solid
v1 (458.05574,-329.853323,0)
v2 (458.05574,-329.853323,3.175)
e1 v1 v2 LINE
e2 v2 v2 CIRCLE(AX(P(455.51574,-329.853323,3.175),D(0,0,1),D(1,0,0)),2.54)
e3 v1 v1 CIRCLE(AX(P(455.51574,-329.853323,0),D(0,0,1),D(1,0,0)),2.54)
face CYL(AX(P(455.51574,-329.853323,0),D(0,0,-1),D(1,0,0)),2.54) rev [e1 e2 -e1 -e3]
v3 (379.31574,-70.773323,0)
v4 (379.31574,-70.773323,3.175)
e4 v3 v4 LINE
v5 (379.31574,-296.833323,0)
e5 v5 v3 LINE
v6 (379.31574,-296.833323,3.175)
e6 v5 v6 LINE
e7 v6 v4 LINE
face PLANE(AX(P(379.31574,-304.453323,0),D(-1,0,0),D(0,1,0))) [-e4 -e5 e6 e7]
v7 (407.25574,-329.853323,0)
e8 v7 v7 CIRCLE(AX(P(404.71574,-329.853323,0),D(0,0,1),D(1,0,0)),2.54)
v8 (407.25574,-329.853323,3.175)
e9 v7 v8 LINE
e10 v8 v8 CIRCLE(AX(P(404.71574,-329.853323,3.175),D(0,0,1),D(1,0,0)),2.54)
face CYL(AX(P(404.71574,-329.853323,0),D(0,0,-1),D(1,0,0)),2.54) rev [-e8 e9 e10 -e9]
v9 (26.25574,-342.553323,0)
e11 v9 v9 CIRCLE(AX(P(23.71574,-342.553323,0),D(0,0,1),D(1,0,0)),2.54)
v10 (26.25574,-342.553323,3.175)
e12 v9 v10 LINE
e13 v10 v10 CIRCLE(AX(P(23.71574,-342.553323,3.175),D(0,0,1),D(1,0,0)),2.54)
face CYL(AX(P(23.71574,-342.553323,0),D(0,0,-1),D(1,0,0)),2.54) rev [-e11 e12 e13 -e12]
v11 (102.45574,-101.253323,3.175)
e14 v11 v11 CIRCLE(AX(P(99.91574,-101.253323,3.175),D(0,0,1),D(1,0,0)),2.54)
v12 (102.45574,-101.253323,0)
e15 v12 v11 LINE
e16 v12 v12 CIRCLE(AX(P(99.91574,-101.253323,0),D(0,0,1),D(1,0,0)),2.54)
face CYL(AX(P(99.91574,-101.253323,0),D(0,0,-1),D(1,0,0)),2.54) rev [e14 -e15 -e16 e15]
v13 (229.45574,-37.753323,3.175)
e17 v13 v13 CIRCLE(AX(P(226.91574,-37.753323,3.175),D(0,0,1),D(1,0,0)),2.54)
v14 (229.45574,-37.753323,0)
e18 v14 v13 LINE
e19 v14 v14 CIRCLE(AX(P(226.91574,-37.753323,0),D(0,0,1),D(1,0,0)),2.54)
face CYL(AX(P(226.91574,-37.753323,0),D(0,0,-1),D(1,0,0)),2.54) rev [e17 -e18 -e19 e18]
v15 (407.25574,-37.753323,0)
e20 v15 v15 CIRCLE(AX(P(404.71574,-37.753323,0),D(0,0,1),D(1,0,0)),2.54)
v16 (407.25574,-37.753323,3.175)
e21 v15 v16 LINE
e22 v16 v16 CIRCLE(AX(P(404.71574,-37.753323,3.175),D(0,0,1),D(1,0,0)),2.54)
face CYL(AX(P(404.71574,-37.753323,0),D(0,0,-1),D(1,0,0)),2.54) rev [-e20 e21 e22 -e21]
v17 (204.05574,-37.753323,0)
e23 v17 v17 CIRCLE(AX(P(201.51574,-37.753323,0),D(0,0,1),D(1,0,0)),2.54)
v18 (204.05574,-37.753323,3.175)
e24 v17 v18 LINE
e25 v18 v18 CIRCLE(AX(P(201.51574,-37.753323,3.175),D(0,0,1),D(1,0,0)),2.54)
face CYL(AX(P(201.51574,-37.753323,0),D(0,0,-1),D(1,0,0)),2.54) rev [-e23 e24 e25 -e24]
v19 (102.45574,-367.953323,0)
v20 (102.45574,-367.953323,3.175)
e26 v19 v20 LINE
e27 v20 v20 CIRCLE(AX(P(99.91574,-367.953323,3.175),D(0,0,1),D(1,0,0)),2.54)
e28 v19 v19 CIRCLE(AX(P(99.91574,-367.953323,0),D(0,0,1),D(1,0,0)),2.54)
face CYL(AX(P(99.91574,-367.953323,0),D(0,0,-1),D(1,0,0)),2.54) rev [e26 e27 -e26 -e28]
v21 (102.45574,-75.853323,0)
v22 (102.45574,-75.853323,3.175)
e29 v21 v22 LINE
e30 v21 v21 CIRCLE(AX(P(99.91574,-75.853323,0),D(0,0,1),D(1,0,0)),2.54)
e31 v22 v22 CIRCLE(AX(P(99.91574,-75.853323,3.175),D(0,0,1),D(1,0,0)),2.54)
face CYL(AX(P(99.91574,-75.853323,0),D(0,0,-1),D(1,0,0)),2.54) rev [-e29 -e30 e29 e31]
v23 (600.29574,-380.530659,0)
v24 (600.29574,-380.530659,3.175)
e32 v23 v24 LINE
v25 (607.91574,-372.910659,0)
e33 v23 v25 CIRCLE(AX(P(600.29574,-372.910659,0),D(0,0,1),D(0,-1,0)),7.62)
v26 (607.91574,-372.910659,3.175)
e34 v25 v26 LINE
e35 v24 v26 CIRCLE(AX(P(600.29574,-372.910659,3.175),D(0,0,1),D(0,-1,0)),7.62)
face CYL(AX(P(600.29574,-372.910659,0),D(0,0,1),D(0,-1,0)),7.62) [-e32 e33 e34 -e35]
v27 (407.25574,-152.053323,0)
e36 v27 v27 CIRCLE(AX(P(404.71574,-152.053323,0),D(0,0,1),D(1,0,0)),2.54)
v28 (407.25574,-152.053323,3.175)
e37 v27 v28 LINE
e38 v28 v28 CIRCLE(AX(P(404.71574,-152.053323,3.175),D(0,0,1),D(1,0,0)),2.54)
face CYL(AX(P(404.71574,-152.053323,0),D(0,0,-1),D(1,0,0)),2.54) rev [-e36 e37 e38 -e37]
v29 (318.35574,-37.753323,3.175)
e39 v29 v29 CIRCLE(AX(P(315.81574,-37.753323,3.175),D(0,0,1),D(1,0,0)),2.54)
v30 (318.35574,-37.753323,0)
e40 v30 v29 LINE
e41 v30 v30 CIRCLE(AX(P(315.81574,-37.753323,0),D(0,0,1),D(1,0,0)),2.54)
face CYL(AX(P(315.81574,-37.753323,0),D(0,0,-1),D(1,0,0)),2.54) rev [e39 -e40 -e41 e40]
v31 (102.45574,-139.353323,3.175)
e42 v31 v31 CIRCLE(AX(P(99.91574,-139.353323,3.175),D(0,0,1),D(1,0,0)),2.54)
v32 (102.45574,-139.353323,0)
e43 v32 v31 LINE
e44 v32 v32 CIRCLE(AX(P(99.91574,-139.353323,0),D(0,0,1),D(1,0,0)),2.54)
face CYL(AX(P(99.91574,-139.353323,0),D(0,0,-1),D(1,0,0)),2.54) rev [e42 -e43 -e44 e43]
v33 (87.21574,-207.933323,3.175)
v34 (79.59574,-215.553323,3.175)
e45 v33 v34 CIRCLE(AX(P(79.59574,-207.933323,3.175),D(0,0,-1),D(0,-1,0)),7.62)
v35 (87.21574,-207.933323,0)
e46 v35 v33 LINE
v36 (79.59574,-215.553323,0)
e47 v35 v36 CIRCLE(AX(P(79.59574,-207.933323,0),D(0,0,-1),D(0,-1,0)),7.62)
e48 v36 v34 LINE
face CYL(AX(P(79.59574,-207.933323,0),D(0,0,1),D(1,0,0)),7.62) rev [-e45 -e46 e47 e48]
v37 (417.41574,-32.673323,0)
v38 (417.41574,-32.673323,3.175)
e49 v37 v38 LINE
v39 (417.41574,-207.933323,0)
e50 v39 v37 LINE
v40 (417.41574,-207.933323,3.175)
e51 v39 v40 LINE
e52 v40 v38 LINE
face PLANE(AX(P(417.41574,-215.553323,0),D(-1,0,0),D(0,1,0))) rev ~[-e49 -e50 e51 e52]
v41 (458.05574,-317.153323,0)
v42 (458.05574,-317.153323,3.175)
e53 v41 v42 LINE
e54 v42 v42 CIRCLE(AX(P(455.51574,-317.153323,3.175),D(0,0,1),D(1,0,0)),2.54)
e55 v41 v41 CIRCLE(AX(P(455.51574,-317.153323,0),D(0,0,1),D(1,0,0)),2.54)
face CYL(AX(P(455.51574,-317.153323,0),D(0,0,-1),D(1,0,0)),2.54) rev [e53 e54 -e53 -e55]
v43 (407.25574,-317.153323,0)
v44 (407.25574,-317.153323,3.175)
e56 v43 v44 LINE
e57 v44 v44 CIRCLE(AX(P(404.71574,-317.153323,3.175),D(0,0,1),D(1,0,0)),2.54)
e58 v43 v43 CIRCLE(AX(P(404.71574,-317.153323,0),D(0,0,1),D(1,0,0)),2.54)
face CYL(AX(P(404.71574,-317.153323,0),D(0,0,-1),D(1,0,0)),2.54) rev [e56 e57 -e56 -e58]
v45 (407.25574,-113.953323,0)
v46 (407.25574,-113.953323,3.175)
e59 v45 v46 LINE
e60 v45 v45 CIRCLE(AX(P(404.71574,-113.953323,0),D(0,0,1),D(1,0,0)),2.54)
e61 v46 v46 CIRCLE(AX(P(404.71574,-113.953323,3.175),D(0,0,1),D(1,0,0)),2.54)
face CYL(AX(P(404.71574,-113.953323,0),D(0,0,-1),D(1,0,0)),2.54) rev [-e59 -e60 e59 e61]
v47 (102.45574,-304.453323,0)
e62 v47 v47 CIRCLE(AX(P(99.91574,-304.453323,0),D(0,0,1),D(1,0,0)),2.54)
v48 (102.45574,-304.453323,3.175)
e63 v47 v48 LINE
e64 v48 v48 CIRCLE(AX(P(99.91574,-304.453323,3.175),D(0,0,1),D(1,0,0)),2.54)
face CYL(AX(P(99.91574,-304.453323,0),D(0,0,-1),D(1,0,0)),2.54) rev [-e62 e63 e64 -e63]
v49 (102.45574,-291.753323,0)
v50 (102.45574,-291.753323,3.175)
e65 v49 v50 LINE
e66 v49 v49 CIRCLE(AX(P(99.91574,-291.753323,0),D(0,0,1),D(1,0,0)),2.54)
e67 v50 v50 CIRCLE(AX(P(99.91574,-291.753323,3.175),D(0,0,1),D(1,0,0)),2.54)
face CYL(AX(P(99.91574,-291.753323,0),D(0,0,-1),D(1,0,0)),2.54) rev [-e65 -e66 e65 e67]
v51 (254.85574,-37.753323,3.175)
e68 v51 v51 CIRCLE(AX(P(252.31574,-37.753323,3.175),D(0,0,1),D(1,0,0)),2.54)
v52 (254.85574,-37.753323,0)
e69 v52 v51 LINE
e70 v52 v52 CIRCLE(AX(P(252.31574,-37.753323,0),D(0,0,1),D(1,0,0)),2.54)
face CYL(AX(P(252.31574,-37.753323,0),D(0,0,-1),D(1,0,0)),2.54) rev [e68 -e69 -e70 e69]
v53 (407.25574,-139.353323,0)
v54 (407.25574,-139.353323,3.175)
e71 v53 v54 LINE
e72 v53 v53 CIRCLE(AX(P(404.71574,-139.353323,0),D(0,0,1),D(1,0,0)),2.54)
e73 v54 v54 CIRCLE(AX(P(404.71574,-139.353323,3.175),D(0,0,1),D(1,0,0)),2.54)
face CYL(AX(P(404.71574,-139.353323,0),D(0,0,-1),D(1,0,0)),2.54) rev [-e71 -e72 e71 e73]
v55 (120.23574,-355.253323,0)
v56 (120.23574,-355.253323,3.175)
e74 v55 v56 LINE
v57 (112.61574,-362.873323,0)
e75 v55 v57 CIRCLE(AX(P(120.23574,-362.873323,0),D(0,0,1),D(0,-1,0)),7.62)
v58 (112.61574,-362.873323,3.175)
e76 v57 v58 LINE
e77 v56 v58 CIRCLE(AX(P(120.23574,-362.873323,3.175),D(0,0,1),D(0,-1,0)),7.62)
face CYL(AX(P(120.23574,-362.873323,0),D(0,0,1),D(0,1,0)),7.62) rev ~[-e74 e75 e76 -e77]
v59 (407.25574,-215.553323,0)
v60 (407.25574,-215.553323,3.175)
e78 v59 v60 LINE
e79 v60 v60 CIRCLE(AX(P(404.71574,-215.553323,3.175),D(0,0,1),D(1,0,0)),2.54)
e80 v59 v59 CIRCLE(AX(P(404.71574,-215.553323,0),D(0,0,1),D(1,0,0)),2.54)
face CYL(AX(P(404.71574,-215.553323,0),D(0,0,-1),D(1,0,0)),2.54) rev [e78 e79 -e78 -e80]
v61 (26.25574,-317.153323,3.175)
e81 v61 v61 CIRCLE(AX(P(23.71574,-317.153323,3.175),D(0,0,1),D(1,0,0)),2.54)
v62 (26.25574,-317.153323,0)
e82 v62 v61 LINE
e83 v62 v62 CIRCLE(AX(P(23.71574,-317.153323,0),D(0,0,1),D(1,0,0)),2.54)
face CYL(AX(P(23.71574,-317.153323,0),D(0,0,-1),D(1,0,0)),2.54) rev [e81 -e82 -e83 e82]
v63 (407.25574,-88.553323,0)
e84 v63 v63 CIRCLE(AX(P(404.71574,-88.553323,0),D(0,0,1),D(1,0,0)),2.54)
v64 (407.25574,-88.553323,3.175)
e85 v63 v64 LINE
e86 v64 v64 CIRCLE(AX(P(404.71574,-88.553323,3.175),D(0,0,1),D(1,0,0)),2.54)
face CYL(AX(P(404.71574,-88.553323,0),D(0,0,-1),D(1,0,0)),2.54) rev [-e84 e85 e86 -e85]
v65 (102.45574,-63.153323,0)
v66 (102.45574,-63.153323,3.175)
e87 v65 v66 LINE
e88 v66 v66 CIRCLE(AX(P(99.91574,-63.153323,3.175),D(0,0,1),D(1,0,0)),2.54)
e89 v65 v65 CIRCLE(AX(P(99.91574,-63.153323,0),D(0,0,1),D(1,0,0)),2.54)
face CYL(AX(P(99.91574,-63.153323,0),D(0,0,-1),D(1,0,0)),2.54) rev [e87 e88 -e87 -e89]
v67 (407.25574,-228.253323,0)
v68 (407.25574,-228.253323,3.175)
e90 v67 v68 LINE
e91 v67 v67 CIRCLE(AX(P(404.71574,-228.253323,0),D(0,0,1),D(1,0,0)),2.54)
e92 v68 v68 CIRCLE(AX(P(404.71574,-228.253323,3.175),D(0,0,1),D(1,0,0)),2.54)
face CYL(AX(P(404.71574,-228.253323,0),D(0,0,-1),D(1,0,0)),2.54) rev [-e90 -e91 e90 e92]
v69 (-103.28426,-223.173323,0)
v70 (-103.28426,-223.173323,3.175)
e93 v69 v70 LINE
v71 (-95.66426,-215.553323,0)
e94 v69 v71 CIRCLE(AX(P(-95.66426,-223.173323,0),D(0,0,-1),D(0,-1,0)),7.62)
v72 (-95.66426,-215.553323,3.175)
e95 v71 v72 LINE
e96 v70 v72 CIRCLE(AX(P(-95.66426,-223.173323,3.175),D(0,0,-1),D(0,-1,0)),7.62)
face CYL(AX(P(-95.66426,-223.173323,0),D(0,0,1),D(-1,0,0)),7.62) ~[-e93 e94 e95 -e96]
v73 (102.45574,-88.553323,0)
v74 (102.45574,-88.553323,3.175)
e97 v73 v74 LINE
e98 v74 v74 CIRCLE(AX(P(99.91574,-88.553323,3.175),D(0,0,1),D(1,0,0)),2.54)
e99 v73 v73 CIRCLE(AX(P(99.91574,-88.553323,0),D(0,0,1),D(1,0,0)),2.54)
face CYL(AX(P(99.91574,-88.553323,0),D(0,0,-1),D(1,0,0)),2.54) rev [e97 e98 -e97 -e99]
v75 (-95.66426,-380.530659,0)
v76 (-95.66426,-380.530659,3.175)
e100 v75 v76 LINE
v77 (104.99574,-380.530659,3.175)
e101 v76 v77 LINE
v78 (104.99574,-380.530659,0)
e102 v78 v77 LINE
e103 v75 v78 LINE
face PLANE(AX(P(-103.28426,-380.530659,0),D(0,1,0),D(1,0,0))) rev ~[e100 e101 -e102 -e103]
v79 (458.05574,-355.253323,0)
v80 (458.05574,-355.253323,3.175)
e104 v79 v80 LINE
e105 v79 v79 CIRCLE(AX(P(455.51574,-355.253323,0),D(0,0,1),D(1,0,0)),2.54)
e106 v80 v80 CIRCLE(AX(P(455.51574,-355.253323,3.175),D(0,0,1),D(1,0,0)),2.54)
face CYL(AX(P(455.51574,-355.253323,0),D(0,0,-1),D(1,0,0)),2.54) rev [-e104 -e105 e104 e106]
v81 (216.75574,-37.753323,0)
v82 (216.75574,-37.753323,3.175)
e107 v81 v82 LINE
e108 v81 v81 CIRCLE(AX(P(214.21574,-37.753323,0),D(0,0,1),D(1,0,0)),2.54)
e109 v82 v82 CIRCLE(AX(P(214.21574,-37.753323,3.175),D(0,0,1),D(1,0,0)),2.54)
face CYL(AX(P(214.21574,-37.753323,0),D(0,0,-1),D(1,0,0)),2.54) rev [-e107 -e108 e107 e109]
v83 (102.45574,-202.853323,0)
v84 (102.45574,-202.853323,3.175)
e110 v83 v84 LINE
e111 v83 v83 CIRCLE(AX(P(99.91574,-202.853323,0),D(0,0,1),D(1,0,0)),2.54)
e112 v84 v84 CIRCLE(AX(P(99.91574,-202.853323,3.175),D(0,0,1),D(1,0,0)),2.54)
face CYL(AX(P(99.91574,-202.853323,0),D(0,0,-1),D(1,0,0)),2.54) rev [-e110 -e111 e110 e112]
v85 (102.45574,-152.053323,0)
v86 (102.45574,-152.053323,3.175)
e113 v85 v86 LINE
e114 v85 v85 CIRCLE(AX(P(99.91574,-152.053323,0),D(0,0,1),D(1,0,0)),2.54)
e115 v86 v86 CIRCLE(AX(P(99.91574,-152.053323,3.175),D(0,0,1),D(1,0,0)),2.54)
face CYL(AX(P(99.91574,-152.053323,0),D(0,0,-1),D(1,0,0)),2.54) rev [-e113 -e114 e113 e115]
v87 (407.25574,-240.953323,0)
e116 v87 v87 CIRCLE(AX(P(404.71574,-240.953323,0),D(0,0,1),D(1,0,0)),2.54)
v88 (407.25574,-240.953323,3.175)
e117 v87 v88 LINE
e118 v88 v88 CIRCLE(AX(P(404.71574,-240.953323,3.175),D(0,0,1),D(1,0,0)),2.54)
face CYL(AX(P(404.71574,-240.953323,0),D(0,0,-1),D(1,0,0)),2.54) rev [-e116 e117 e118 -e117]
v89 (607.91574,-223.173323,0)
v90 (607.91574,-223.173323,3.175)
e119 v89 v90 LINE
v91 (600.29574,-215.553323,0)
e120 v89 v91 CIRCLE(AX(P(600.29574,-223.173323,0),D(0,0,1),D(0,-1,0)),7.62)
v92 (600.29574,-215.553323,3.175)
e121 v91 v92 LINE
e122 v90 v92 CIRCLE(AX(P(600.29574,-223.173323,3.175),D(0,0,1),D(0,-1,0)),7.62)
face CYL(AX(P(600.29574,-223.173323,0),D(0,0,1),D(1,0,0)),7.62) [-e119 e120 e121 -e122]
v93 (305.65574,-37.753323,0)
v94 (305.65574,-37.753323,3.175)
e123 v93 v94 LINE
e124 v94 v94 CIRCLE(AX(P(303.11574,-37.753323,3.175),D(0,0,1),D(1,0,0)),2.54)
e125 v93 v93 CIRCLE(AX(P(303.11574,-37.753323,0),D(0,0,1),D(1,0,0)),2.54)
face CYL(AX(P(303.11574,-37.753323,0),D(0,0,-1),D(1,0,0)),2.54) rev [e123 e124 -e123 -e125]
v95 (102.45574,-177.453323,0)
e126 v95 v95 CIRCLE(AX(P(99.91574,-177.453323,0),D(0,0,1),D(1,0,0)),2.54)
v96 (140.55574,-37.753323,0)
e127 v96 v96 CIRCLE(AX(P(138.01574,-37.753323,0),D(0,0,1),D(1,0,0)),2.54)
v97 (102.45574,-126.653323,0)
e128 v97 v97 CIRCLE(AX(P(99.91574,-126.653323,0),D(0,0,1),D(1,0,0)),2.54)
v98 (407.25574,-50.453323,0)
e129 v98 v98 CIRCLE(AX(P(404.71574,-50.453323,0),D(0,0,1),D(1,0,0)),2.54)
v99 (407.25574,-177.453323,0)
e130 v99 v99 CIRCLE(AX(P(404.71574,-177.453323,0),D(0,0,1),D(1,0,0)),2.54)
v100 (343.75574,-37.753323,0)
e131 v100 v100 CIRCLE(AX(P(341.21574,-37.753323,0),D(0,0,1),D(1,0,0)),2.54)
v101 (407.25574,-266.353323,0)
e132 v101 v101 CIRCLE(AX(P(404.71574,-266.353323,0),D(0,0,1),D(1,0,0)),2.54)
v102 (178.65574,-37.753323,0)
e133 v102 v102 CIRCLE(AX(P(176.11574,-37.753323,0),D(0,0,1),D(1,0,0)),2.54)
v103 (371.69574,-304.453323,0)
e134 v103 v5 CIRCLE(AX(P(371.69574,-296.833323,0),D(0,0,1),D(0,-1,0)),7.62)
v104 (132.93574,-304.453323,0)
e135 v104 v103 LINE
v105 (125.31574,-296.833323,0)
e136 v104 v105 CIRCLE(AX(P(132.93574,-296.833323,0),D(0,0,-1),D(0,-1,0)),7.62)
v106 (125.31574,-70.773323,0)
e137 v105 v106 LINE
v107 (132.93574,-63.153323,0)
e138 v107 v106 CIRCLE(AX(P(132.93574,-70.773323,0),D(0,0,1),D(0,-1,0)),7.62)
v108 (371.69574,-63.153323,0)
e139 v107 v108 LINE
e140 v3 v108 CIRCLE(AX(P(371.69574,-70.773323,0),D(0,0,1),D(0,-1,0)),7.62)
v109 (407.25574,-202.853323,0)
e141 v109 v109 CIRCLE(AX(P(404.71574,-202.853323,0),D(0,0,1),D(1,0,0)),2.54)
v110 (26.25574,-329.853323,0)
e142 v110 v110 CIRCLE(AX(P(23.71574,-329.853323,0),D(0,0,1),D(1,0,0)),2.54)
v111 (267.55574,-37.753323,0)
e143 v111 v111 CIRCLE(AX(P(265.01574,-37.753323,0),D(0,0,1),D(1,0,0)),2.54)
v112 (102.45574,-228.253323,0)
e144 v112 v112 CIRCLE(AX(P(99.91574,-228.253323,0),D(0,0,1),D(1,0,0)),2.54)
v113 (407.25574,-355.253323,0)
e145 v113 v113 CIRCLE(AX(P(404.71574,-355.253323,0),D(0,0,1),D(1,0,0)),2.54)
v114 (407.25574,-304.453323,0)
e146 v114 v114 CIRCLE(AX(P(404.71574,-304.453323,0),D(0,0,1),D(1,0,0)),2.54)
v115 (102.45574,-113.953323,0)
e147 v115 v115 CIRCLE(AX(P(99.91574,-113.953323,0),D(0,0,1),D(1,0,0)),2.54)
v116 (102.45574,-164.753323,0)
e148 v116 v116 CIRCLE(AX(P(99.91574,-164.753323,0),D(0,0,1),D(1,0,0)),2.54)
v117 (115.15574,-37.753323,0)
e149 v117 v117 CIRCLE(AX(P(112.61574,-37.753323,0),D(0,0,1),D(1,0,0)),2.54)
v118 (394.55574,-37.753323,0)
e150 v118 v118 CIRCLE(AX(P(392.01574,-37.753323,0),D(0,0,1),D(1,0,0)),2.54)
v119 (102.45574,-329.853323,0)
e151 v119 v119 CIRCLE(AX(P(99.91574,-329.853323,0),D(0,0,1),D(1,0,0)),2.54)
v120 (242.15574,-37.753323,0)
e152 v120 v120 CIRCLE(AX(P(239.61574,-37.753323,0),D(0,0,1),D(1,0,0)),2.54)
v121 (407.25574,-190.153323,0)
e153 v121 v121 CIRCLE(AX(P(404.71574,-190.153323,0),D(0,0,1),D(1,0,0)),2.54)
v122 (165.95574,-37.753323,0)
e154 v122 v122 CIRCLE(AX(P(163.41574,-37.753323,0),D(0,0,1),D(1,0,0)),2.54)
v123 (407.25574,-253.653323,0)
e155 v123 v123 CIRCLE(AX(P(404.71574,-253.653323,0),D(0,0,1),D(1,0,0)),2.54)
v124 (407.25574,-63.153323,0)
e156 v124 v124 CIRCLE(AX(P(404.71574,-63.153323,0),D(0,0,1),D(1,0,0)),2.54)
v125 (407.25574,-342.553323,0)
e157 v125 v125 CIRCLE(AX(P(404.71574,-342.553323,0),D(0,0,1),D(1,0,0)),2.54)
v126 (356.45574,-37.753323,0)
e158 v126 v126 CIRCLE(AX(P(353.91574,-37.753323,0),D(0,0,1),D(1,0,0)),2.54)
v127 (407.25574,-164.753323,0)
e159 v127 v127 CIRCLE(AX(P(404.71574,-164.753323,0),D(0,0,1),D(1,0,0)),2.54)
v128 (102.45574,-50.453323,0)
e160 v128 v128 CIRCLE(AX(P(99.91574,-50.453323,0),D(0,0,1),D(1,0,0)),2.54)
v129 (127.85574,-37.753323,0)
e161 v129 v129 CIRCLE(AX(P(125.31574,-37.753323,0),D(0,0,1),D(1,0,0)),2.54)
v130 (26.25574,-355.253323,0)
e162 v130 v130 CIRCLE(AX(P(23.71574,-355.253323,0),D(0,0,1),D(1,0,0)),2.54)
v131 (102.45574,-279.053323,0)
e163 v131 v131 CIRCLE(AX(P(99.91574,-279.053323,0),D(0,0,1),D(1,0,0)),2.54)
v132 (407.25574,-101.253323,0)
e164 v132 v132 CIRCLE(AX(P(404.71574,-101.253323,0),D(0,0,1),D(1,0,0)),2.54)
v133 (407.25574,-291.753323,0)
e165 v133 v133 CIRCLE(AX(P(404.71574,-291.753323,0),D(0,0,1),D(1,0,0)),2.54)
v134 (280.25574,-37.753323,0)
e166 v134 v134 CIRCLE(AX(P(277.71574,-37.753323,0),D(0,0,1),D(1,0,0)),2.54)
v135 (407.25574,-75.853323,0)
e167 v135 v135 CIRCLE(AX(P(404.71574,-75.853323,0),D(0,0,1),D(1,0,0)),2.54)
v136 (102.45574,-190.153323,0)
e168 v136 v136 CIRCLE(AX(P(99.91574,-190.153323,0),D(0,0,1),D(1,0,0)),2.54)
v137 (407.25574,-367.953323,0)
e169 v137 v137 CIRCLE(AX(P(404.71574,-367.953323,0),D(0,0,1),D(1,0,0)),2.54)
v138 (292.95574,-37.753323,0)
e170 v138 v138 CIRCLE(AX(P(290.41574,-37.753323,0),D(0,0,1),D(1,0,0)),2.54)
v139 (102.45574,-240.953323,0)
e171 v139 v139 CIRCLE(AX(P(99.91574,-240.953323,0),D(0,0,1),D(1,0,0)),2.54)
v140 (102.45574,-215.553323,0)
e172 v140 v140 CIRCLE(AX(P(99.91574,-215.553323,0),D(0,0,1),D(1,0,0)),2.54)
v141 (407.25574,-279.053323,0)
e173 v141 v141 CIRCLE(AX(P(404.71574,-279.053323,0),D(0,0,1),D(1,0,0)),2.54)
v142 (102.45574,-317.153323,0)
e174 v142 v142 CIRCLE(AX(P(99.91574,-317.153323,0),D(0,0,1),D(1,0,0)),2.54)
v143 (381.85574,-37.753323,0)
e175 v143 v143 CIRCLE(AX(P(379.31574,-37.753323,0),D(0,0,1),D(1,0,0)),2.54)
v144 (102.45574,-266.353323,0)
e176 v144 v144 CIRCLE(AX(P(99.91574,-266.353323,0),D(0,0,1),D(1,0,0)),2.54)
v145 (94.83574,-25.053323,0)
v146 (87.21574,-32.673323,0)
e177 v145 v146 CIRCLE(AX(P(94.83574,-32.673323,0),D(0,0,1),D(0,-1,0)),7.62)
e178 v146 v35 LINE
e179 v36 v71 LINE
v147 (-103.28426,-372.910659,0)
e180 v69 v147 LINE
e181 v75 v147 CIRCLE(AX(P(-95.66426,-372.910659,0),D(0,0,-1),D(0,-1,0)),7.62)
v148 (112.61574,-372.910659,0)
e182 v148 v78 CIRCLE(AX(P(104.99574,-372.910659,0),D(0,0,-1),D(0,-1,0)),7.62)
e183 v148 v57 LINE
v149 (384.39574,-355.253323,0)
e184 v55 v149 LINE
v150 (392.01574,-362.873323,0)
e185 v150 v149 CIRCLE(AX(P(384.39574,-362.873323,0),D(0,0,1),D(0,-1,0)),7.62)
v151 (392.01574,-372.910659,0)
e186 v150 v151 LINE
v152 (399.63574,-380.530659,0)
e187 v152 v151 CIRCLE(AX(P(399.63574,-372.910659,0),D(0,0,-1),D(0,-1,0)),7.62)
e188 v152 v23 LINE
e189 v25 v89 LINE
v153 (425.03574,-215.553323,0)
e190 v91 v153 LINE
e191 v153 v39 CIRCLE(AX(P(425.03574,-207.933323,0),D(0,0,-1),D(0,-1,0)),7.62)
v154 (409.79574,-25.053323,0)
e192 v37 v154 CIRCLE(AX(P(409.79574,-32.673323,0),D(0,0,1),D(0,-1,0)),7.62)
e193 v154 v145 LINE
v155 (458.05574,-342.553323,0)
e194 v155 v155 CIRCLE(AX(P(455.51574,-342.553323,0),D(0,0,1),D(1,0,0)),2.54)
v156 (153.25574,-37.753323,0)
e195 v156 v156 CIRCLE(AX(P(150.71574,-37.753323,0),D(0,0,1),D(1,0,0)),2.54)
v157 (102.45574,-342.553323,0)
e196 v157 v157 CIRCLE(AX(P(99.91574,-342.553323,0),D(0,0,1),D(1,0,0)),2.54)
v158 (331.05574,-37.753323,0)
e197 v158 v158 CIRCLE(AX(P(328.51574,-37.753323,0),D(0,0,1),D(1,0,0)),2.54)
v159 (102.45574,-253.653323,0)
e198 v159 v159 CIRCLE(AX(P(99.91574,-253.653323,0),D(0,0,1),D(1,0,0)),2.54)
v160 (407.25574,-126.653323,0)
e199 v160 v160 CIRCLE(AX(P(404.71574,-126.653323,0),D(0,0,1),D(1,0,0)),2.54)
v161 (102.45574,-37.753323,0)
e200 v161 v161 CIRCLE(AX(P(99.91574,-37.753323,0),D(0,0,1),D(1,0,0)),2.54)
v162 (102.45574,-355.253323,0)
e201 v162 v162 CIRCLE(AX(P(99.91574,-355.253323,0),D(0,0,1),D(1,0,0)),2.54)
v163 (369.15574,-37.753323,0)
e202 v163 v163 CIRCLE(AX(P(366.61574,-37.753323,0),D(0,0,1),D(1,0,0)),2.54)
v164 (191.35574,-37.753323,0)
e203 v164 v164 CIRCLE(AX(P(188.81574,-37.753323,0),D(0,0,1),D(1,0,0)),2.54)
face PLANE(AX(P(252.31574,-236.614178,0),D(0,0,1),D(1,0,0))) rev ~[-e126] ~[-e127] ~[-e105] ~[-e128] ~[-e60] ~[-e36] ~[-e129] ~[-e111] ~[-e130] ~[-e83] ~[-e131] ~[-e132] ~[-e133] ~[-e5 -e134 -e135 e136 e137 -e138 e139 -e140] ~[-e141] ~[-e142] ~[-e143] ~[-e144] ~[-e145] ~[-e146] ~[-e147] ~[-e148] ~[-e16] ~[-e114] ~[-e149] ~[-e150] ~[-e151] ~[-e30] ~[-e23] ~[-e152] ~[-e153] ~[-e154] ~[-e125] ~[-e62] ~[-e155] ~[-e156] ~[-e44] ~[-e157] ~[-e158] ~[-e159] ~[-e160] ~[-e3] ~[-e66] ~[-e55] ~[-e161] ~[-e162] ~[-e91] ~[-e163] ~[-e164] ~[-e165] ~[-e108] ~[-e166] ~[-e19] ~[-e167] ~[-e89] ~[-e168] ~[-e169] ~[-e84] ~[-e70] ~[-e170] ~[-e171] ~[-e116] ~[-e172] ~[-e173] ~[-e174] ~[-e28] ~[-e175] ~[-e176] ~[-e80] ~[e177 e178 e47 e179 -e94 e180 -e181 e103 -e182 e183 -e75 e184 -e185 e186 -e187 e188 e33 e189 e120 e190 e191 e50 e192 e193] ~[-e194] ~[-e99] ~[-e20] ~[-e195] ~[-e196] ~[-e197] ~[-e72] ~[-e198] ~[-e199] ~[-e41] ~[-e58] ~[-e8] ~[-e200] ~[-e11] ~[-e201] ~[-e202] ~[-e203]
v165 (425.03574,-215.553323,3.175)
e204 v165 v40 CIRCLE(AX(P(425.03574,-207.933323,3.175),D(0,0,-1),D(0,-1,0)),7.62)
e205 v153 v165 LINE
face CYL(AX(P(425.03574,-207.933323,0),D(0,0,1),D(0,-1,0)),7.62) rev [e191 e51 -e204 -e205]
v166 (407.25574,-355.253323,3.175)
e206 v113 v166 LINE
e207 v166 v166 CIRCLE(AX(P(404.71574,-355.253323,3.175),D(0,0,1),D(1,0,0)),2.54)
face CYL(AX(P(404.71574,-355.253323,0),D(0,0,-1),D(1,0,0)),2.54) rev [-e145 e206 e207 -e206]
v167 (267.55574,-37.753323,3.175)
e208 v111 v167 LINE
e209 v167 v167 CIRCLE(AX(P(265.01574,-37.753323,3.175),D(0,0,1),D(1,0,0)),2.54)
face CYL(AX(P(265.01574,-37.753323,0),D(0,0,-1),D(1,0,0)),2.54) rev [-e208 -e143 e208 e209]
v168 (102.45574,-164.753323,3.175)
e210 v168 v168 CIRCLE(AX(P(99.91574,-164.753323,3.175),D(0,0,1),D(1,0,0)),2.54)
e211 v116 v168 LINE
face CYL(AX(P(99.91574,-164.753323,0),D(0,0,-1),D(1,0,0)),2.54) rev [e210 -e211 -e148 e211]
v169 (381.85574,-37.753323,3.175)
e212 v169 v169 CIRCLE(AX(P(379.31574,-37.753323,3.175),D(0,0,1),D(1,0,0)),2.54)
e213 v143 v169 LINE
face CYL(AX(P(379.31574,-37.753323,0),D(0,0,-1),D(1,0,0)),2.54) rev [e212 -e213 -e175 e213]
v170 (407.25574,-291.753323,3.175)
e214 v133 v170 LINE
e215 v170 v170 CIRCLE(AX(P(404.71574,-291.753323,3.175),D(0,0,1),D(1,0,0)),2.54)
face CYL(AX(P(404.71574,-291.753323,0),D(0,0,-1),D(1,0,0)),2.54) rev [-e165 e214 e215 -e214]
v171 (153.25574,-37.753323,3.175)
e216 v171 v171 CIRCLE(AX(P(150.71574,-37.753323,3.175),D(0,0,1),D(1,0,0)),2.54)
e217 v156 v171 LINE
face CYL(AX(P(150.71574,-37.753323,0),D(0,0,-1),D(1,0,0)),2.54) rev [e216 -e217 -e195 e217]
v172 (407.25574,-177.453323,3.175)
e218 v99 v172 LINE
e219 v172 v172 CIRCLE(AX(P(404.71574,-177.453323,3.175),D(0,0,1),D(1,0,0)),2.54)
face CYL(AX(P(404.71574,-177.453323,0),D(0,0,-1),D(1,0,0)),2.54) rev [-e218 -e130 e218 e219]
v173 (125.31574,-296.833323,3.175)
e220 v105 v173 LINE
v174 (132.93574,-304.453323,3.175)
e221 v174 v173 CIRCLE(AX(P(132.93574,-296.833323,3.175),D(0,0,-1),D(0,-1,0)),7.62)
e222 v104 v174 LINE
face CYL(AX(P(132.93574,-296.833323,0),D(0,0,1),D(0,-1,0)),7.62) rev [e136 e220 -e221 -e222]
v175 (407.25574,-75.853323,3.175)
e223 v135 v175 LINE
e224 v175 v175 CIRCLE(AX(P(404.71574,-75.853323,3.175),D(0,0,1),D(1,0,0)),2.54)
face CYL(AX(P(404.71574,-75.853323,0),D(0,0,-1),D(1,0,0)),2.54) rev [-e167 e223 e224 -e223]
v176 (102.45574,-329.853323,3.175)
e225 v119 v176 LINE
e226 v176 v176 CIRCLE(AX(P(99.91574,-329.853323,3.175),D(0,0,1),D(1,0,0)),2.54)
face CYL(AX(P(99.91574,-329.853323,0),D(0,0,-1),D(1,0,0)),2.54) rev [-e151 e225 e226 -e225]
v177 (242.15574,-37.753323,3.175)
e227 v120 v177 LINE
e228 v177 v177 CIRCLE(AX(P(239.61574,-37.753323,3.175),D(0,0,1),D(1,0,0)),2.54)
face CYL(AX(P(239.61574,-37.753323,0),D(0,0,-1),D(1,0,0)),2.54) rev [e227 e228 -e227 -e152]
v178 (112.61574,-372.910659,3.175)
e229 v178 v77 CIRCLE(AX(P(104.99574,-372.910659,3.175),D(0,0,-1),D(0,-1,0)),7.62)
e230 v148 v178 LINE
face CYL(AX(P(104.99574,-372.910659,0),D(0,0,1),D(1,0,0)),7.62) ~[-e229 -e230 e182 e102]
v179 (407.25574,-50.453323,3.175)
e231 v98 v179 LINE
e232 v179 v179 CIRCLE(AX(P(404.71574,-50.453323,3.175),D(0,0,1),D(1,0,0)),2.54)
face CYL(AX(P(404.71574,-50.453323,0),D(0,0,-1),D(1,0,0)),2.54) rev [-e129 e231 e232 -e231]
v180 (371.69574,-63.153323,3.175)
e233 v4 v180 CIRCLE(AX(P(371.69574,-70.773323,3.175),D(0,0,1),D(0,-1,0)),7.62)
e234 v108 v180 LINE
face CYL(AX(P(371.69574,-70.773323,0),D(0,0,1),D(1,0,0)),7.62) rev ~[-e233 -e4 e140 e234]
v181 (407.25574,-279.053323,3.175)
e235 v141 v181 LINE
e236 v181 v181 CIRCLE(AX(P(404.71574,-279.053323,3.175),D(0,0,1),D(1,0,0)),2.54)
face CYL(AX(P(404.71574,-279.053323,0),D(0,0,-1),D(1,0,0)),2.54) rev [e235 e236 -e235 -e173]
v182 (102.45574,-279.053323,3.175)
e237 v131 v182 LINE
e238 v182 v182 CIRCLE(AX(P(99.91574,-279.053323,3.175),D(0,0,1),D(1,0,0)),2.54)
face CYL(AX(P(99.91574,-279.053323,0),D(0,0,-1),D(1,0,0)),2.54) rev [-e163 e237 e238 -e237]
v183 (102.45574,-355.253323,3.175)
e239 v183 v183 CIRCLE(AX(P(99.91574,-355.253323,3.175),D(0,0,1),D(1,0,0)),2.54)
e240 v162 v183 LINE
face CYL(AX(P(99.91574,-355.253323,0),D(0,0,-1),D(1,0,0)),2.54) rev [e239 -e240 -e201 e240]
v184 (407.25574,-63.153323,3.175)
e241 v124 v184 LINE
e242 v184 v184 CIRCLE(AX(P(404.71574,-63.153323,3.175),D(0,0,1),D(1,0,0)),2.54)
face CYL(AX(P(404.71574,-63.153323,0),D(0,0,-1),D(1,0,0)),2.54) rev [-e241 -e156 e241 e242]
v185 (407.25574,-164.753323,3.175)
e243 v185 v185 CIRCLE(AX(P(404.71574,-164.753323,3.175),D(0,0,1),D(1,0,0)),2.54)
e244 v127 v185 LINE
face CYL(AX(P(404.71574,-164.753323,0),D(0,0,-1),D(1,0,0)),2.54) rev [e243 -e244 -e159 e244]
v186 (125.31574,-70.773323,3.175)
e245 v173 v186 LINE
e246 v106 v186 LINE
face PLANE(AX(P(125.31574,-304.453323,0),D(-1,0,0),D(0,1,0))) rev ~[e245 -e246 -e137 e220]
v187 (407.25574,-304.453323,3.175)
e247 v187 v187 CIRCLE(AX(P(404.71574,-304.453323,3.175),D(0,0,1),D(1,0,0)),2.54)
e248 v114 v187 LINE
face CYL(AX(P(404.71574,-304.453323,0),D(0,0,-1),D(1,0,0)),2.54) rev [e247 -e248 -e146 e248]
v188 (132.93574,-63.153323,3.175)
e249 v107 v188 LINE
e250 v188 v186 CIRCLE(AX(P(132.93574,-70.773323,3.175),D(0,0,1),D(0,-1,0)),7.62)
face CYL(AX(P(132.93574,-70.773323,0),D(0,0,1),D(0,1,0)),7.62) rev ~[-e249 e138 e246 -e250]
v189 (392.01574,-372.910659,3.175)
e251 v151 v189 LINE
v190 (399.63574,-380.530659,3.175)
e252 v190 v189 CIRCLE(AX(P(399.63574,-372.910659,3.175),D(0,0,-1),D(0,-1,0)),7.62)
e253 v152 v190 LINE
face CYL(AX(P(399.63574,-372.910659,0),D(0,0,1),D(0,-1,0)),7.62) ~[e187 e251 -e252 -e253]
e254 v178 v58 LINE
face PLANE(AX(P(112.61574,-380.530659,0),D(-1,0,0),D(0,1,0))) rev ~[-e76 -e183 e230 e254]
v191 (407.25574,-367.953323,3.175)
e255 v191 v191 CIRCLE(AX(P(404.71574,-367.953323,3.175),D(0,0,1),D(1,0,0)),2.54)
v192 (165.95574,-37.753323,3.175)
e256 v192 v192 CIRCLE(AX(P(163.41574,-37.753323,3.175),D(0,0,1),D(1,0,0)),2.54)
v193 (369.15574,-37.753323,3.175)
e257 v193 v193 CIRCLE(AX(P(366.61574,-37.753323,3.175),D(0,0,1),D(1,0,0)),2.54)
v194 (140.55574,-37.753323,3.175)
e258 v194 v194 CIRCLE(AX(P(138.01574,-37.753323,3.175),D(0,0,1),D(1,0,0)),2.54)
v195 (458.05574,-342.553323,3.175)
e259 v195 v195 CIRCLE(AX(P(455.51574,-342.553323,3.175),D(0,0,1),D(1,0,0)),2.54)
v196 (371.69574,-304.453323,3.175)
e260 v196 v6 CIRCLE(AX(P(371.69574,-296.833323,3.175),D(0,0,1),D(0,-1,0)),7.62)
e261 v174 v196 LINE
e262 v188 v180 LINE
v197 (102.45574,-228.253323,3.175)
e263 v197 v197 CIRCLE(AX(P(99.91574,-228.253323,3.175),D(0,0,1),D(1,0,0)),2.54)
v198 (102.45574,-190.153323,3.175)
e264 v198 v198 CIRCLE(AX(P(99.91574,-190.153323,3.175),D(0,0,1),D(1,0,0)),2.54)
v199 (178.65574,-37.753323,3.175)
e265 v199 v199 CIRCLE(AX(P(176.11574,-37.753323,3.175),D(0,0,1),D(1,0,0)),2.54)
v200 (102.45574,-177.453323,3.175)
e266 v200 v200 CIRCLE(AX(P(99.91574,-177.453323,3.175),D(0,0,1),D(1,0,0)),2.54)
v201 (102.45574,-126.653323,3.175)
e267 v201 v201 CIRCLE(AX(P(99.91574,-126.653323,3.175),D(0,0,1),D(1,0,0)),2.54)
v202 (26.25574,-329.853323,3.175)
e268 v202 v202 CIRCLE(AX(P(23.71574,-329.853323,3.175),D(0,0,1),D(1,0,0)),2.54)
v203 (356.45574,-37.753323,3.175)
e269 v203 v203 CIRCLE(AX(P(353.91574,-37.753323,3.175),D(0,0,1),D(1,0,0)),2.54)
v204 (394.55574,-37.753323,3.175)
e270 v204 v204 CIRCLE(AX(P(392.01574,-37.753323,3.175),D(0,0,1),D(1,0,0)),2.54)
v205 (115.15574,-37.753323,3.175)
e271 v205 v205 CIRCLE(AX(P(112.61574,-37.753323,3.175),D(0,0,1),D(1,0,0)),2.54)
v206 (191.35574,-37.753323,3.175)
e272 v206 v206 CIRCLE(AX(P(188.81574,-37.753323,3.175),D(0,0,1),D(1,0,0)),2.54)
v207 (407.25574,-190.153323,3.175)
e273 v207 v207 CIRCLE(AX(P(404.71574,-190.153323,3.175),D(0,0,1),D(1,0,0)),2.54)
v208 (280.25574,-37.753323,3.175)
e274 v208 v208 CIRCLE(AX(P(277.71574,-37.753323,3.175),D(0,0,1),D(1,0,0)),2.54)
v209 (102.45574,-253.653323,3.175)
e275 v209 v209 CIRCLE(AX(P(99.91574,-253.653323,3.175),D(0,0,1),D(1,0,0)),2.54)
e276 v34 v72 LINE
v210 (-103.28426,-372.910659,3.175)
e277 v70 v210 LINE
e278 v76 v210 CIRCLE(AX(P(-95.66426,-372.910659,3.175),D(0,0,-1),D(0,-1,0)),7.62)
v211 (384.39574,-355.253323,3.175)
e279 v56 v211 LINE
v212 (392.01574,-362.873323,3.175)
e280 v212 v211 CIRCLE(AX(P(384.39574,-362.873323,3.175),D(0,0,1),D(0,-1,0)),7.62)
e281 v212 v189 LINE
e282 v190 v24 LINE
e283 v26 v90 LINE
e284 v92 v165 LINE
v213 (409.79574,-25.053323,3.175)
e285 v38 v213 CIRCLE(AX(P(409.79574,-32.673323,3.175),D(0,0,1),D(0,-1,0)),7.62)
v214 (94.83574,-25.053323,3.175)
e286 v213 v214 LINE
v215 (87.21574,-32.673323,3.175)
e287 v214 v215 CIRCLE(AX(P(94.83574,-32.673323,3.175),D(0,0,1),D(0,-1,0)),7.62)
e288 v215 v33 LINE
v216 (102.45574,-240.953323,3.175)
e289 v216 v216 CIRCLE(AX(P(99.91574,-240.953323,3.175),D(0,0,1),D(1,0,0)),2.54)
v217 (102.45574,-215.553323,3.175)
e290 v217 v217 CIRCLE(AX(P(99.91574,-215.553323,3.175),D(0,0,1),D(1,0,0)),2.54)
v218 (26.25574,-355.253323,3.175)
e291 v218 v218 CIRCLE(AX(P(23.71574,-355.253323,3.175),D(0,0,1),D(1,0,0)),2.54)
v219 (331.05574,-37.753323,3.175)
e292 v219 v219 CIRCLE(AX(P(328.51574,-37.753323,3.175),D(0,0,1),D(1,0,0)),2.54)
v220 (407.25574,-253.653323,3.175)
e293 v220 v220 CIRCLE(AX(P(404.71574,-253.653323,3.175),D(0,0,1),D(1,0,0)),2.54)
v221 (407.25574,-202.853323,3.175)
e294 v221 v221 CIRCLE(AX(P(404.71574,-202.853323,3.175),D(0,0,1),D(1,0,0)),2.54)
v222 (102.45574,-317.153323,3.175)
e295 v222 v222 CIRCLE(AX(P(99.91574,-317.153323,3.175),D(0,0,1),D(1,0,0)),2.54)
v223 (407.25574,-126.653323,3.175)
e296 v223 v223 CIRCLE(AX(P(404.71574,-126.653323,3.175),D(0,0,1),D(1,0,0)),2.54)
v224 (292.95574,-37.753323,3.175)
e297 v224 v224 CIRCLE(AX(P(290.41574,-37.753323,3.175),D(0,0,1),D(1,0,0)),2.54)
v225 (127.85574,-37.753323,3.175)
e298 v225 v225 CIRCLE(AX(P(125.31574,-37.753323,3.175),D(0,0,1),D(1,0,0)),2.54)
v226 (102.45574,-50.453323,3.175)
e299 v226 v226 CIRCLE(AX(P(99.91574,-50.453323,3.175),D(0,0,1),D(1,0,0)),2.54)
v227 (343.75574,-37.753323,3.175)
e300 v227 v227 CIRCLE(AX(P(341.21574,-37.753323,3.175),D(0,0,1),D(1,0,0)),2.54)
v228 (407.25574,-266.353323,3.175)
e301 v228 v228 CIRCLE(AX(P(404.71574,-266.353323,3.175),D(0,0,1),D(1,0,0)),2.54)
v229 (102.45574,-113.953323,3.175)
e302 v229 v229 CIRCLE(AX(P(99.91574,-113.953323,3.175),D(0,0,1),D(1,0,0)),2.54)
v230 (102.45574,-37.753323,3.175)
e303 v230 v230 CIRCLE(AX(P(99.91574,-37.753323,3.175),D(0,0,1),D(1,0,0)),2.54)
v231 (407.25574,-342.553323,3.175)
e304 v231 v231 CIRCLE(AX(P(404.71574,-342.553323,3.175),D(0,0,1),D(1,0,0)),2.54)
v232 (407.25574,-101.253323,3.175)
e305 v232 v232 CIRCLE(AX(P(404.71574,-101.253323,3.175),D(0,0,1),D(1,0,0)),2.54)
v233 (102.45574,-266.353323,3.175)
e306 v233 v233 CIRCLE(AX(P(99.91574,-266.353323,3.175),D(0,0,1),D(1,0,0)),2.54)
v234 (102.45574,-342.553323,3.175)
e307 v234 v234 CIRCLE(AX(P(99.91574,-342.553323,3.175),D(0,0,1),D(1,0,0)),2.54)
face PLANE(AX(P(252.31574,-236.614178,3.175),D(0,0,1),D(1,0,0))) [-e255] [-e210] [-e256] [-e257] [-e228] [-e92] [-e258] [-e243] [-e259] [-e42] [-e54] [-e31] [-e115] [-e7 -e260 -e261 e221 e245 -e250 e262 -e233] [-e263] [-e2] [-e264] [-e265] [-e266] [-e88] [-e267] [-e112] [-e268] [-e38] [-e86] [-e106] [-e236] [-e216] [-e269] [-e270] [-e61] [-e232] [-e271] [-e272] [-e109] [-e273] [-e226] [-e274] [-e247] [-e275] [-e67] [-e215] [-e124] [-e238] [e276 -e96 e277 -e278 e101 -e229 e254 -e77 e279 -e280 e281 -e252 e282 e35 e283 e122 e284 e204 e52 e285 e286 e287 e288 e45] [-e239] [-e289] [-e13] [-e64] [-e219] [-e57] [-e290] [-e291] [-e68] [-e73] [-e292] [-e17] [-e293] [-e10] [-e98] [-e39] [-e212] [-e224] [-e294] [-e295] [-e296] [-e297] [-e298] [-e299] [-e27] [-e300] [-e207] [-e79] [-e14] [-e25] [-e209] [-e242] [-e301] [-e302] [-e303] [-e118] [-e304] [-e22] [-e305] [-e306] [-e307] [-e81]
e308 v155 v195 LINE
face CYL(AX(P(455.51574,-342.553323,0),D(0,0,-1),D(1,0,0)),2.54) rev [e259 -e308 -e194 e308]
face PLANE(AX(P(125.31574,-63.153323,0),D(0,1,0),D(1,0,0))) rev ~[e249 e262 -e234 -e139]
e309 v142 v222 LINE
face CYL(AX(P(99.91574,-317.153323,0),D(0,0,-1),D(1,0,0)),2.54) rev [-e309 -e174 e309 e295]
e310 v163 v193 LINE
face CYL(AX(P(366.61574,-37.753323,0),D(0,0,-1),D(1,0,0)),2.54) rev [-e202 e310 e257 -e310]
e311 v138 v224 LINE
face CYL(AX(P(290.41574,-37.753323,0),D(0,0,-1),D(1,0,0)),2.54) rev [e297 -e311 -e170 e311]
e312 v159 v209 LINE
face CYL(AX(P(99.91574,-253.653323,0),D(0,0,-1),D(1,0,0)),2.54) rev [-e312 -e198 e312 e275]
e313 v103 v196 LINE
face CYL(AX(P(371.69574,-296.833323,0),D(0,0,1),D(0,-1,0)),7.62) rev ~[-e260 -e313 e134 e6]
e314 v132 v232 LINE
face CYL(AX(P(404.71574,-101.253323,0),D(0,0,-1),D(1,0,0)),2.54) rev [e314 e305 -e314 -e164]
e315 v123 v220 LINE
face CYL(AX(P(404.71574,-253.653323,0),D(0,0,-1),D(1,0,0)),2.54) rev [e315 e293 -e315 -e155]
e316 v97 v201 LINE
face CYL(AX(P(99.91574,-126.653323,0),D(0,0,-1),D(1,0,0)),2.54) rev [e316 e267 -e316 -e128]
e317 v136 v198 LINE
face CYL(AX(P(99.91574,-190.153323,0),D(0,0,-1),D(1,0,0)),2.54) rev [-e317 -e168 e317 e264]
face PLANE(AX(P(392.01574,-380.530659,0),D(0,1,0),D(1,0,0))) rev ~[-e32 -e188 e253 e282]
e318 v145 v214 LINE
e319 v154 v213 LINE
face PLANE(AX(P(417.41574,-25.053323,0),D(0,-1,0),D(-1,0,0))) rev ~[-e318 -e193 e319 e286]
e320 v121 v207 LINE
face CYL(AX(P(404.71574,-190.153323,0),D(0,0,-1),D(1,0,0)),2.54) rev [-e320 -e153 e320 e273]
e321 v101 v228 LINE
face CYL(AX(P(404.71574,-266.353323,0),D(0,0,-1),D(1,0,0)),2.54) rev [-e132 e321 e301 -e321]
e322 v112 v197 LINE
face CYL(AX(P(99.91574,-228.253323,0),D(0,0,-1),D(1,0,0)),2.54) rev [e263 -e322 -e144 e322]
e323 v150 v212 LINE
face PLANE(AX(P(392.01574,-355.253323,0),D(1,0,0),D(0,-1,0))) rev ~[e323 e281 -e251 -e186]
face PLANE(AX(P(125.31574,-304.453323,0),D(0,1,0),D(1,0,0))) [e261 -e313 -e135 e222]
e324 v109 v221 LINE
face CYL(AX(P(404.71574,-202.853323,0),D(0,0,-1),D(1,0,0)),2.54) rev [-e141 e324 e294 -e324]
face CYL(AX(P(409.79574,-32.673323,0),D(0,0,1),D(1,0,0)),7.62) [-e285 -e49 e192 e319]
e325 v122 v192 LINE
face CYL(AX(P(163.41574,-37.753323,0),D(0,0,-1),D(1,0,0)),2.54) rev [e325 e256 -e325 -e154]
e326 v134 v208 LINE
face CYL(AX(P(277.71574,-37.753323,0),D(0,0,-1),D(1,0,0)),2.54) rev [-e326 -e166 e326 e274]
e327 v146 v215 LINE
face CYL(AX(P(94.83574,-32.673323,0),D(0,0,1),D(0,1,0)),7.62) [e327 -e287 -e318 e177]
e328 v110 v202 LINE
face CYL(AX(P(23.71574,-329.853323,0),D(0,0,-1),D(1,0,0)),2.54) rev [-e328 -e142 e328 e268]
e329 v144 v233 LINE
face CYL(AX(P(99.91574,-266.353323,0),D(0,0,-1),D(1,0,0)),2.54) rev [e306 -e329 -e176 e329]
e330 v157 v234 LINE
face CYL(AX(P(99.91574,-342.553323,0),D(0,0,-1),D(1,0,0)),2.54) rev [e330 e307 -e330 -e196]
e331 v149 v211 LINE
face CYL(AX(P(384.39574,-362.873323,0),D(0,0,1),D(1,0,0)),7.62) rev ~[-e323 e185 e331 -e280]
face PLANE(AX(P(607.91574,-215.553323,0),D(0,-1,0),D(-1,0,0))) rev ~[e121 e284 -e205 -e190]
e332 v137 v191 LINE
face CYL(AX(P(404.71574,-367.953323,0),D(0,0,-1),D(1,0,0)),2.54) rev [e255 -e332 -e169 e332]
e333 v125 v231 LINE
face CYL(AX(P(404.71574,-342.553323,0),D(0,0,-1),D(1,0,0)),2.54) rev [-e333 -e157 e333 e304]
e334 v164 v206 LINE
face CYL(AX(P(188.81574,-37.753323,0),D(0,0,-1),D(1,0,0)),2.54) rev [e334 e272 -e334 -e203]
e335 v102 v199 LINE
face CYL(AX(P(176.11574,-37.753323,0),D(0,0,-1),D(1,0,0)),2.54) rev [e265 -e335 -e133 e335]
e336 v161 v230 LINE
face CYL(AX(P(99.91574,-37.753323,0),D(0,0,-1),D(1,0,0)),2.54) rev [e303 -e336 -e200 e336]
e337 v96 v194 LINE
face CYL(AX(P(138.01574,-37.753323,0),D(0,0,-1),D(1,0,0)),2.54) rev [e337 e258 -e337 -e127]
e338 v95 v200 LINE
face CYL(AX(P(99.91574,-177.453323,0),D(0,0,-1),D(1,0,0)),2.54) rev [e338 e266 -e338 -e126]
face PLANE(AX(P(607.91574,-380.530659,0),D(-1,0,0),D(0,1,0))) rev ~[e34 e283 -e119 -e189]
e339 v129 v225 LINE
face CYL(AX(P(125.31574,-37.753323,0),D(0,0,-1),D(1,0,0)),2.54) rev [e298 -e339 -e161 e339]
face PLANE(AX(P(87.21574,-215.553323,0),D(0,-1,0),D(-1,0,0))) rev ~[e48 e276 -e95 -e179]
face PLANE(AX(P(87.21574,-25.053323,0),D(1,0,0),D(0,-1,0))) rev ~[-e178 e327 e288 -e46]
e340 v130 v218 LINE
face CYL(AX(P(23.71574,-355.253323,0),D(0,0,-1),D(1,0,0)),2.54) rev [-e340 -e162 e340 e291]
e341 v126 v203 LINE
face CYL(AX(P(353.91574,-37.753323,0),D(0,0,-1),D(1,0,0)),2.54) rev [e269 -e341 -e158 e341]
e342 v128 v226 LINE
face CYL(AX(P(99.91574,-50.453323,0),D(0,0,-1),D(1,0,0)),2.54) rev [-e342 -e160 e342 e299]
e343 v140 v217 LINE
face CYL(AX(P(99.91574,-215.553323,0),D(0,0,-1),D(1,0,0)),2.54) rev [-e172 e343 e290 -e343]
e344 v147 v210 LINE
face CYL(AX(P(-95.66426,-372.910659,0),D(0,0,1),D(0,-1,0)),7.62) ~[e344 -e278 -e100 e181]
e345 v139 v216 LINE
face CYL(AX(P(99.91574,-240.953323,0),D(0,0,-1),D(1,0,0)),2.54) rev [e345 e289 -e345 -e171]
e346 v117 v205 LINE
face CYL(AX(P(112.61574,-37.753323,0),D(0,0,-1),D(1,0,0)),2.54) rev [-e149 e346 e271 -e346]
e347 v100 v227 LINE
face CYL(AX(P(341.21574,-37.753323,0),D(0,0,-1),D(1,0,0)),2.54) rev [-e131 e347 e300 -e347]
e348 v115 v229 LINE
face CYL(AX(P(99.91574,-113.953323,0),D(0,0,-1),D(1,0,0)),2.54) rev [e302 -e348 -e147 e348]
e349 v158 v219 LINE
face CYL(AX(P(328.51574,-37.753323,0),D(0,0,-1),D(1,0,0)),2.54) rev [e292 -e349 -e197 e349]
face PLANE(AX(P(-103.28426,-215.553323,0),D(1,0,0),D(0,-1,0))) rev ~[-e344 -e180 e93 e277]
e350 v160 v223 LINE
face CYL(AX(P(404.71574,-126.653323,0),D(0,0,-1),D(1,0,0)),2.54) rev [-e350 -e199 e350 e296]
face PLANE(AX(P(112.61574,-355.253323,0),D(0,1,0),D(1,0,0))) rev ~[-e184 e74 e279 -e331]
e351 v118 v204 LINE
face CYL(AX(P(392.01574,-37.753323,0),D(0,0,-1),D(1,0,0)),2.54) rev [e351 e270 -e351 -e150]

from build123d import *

# Parameters (mm, degrees)
SKETCH1_R           = 2.54
SKETCH1_W           = 254
SKETCH1_H           = 241.3
BOSS_EXTRUDE1_DEPTH = 3.175
FILLET1_R           = 7.62


with BuildPart() as part:
    # Sketch1 → Boss-Extrude1 (new body)
    with BuildSketch(Plane.XY):
        Polygon((392.015739824, -380.530659381), (607.915739824, -380.530659381), (607.915739824, -215.553323478), (417.415739824, -215.553323478), (417.415739824, -25.053323478), (87.215739824, -25.053323478), (87.215739824, -215.553323478), (-103.284260176, -215.553323478), (-103.284260176, -380.530659381), (112.615739824, -380.530659381), (112.615739824, -355.253323478), (392.015739824, -355.253323478), align=None)
        with Locations((99.915739824, -37.753323478)):
            Circle(SKETCH1_R, mode=Mode.SUBTRACT)
        with Locations((112.615739824, -37.753323478)):
            Circle(SKETCH1_R, mode=Mode.SUBTRACT)
        with Locations((125.315739824, -37.753323478)):
            Circle(SKETCH1_R, mode=Mode.SUBTRACT)
        with Locations((138.015739824, -37.753323478)):
            Circle(SKETCH1_R, mode=Mode.SUBTRACT)
        with Locations((150.715739824, -37.753323478)):
            Circle(SKETCH1_R, mode=Mode.SUBTRACT)
        with Locations((163.415739824, -37.753323478)):
            Circle(SKETCH1_R, mode=Mode.SUBTRACT)
        with Locations((176.115739824, -37.753323478)):
            Circle(SKETCH1_R, mode=Mode.SUBTRACT)
        with Locations((188.815739824, -37.753323478)):
            Circle(SKETCH1_R, mode=Mode.SUBTRACT)
        with Locations((201.515739824, -37.753323478)):
            Circle(SKETCH1_R, mode=Mode.SUBTRACT)
        with Locations((214.215739824, -37.753323478)):
            Circle(SKETCH1_R, mode=Mode.SUBTRACT)
        with Locations((226.915739824, -37.753323478)):
            Circle(SKETCH1_R, mode=Mode.SUBTRACT)
        with Locations((239.615739824, -37.753323478)):
            Circle(SKETCH1_R, mode=Mode.SUBTRACT)
        with Locations((252.315739824, -37.753323478)):
            Circle(SKETCH1_R, mode=Mode.SUBTRACT)
        with Locations((265.015739824, -37.753323478)):
            Circle(SKETCH1_R, mode=Mode.SUBTRACT)
        with Locations((277.715739824, -37.753323478)):
            Circle(SKETCH1_R, mode=Mode.SUBTRACT)
        with Locations((290.415739824, -37.753323478)):
            Circle(SKETCH1_R, mode=Mode.SUBTRACT)
        with Locations((303.115739824, -37.753323478)):
            Circle(SKETCH1_R, mode=Mode.SUBTRACT)
        with Locations((315.815739824, -37.753323478)):
            Circle(SKETCH1_R, mode=Mode.SUBTRACT)
        with Locations((328.515739824, -37.753323478)):
            Circle(SKETCH1_R, mode=Mode.SUBTRACT)
        with Locations((341.215739824, -37.753323478)):
            Circle(SKETCH1_R, mode=Mode.SUBTRACT)
        with Locations((353.915739824, -37.753323478)):
            Circle(SKETCH1_R, mode=Mode.SUBTRACT)
        with Locations((366.615739824, -37.753323478)):
            Circle(SKETCH1_R, mode=Mode.SUBTRACT)
        with Locations((379.315739824, -37.753323478)):
            Circle(SKETCH1_R, mode=Mode.SUBTRACT)
        with Locations((392.015739824, -37.753323478)):
            Circle(SKETCH1_R, mode=Mode.SUBTRACT)
        with Locations((404.715739824, -37.753323478)):
            Circle(SKETCH1_R, mode=Mode.SUBTRACT)
        with Locations((99.915739824, -50.453323478)):
            Circle(SKETCH1_R, mode=Mode.SUBTRACT)
        with Locations((99.915739824, -63.153323478)):
            Circle(SKETCH1_R, mode=Mode.SUBTRACT)
        with Locations((99.915739824, -75.853323478)):
            Circle(SKETCH1_R, mode=Mode.SUBTRACT)
        with Locations((99.915739824, -88.553323478)):
            Circle(SKETCH1_R, mode=Mode.SUBTRACT)
        with Locations((99.915739824, -101.253323478)):
            Circle(SKETCH1_R, mode=Mode.SUBTRACT)
        with Locations((99.915739824, -113.953323478)):
            Circle(SKETCH1_R, mode=Mode.SUBTRACT)
        with Locations((99.915739824, -126.653323478)):
            Circle(SKETCH1_R, mode=Mode.SUBTRACT)
        with Locations((99.915739824, -139.353323478)):
            Circle(SKETCH1_R, mode=Mode.SUBTRACT)
        with Locations((99.915739824, -152.053323478)):
            Circle(SKETCH1_R, mode=Mode.SUBTRACT)
        with Locations((99.915739824, -164.753323478)):
            Circle(SKETCH1_R, mode=Mode.SUBTRACT)
        with Locations((99.915739824, -177.453323478)):
            Circle(SKETCH1_R, mode=Mode.SUBTRACT)
        with Locations((99.915739824, -190.153323478)):
            Circle(SKETCH1_R, mode=Mode.SUBTRACT)
        with Locations((99.915739824, -202.853323478)):
            Circle(SKETCH1_R, mode=Mode.SUBTRACT)
        with Locations((99.915739824, -215.553323478)):
            Circle(SKETCH1_R, mode=Mode.SUBTRACT)
        with Locations((99.915739824, -228.253323478)):
            Circle(SKETCH1_R, mode=Mode.SUBTRACT)
        with Locations((99.915739824, -240.953323478)):
            Circle(SKETCH1_R, mode=Mode.SUBTRACT)
        with Locations((99.915739824, -253.653323478)):
            Circle(SKETCH1_R, mode=Mode.SUBTRACT)
        with Locations((99.915739824, -266.353323478)):
            Circle(SKETCH1_R, mode=Mode.SUBTRACT)
        with Locations((99.915739824, -279.053323478)):
            Circle(SKETCH1_R, mode=Mode.SUBTRACT)
        with Locations((99.915739824, -291.753323478)):
            Circle(SKETCH1_R, mode=Mode.SUBTRACT)
        with Locations((99.915739824, -304.453323478)):
            Circle(SKETCH1_R, mode=Mode.SUBTRACT)
        with Locations((99.915739824, -317.153323478)):
            Circle(SKETCH1_R, mode=Mode.SUBTRACT)
        with Locations((99.915739824, -329.853323478)):
            Circle(SKETCH1_R, mode=Mode.SUBTRACT)
        with Locations((99.915739824, -342.553323478)):
            Circle(SKETCH1_R, mode=Mode.SUBTRACT)
        with Locations((99.915739824, -355.253323478)):
            Circle(SKETCH1_R, mode=Mode.SUBTRACT)
        with Locations((99.915739824, -367.953323478)):
            Circle(SKETCH1_R, mode=Mode.SUBTRACT)
        with Locations((404.715739824, -50.453323478)):
            Circle(SKETCH1_R, mode=Mode.SUBTRACT)
        with Locations((404.715739824, -63.153323478)):
            Circle(SKETCH1_R, mode=Mode.SUBTRACT)
        with Locations((404.715739824, -75.853323478)):
            Circle(SKETCH1_R, mode=Mode.SUBTRACT)
        with Locations((404.715739824, -88.553323478)):
            Circle(SKETCH1_R, mode=Mode.SUBTRACT)
        with Locations((404.715739824, -101.253323478)):
            Circle(SKETCH1_R, mode=Mode.SUBTRACT)
        with Locations((404.715739824, -113.953323478)):
            Circle(SKETCH1_R, mode=Mode.SUBTRACT)
        with Locations((404.715739824, -126.653323478)):
            Circle(SKETCH1_R, mode=Mode.SUBTRACT)
        with Locations((404.715739824, -139.353323478)):
            Circle(SKETCH1_R, mode=Mode.SUBTRACT)
        with Locations((404.715739824, -152.053323478)):
            Circle(SKETCH1_R, mode=Mode.SUBTRACT)
        with Locations((404.715739824, -164.753323478)):
            Circle(SKETCH1_R, mode=Mode.SUBTRACT)
        with Locations((404.715739824, -177.453323478)):
            Circle(SKETCH1_R, mode=Mode.SUBTRACT)
        with Locations((404.715739824, -190.153323478)):
            Circle(SKETCH1_R, mode=Mode.SUBTRACT)
        with Locations((404.715739824, -202.853323478)):
            Circle(SKETCH1_R, mode=Mode.SUBTRACT)
        with Locations((404.715739824, -215.553323478)):
            Circle(SKETCH1_R, mode=Mode.SUBTRACT)
        with Locations((404.715739824, -228.253323478)):
            Circle(SKETCH1_R, mode=Mode.SUBTRACT)
        with Locations((404.715739824, -240.953323478)):
            Circle(SKETCH1_R, mode=Mode.SUBTRACT)
        with Locations((404.715739824, -253.653323478)):
            Circle(SKETCH1_R, mode=Mode.SUBTRACT)
        with Locations((404.715739824, -266.353323478)):
            Circle(SKETCH1_R, mode=Mode.SUBTRACT)
        with Locations((404.715739824, -279.053323478)):
            Circle(SKETCH1_R, mode=Mode.SUBTRACT)
        with Locations((404.715739824, -291.753323478)):
            Circle(SKETCH1_R, mode=Mode.SUBTRACT)
        with Locations((404.715739824, -304.453323478)):
            Circle(SKETCH1_R, mode=Mode.SUBTRACT)
        with Locations((404.715739824, -317.153323478)):
            Circle(SKETCH1_R, mode=Mode.SUBTRACT)
        with Locations((404.715739824, -329.853323478)):
            Circle(SKETCH1_R, mode=Mode.SUBTRACT)
        with Locations((404.715739824, -342.553323478)):
            Circle(SKETCH1_R, mode=Mode.SUBTRACT)
        with Locations((404.715739824, -355.253323478)):
            Circle(SKETCH1_R, mode=Mode.SUBTRACT)
        with Locations((404.715739824, -367.953323478)):
            Circle(SKETCH1_R, mode=Mode.SUBTRACT)
        with Locations((23.715739824, -317.153323478)):
            Circle(SKETCH1_R, mode=Mode.SUBTRACT)
        with Locations((455.515739824, -317.153323478)):
            Circle(SKETCH1_R, mode=Mode.SUBTRACT)
        with Locations((455.515739824, -329.853323478)):
            Circle(SKETCH1_R, mode=Mode.SUBTRACT)
        with Locations((455.515739824, -342.553323478)):
            Circle(SKETCH1_R, mode=Mode.SUBTRACT)
        with Locations((455.515739824, -355.253323478)):
            Circle(SKETCH1_R, mode=Mode.SUBTRACT)
        with Locations((23.715739824, -329.853323478)):
            Circle(SKETCH1_R, mode=Mode.SUBTRACT)
        with Locations((23.715739824, -342.553323478)):
            Circle(SKETCH1_R, mode=Mode.SUBTRACT)
        with Locations((23.715739824, -355.253323478)):
            Circle(SKETCH1_R, mode=Mode.SUBTRACT)
        with Locations((252.315739824, -183.803323478)):
            Rectangle(SKETCH1_W, SKETCH1_H, mode=Mode.SUBTRACT)
    extrude(amount=BOSS_EXTRUDE1_DEPTH)

    # Fillet1
    fillet1_edges = [part.edges().sort_by_distance(p)[0] for p in [
        (607.915739824, -380.530659381, 1.5875),
        (392.015739824, -380.530659381, 1.5875),
        (392.015739824, -355.253323478, 1.5875),
        (112.615739824, -355.253323478, 1.5875),
        (112.615739824, -380.530659381, 1.5875),
        (-103.284260176, -380.530659381, 1.5875),
        (-103.284260176, -215.553323478, 1.5875),
        (87.215739824, -215.553323478, 1.5875),
        (87.215739824, -25.053323478, 1.5875),
        (417.415739824, -25.053323478, 1.5875),
        (417.415739824, -215.553323478, 1.5875),
        (607.915739824, -215.553323478, 1.5875),
        (125.315739824, -63.153323478, 1.5875),
        (125.315739824, -304.453323478, 1.5875),
        (379.315739824, -304.453323478, 1.5875),
        (379.315739824, -63.153323478, 1.5875),
    ]]
    fillet(fillet1_edges, radius=FILLET1_R)


solid = part.part
